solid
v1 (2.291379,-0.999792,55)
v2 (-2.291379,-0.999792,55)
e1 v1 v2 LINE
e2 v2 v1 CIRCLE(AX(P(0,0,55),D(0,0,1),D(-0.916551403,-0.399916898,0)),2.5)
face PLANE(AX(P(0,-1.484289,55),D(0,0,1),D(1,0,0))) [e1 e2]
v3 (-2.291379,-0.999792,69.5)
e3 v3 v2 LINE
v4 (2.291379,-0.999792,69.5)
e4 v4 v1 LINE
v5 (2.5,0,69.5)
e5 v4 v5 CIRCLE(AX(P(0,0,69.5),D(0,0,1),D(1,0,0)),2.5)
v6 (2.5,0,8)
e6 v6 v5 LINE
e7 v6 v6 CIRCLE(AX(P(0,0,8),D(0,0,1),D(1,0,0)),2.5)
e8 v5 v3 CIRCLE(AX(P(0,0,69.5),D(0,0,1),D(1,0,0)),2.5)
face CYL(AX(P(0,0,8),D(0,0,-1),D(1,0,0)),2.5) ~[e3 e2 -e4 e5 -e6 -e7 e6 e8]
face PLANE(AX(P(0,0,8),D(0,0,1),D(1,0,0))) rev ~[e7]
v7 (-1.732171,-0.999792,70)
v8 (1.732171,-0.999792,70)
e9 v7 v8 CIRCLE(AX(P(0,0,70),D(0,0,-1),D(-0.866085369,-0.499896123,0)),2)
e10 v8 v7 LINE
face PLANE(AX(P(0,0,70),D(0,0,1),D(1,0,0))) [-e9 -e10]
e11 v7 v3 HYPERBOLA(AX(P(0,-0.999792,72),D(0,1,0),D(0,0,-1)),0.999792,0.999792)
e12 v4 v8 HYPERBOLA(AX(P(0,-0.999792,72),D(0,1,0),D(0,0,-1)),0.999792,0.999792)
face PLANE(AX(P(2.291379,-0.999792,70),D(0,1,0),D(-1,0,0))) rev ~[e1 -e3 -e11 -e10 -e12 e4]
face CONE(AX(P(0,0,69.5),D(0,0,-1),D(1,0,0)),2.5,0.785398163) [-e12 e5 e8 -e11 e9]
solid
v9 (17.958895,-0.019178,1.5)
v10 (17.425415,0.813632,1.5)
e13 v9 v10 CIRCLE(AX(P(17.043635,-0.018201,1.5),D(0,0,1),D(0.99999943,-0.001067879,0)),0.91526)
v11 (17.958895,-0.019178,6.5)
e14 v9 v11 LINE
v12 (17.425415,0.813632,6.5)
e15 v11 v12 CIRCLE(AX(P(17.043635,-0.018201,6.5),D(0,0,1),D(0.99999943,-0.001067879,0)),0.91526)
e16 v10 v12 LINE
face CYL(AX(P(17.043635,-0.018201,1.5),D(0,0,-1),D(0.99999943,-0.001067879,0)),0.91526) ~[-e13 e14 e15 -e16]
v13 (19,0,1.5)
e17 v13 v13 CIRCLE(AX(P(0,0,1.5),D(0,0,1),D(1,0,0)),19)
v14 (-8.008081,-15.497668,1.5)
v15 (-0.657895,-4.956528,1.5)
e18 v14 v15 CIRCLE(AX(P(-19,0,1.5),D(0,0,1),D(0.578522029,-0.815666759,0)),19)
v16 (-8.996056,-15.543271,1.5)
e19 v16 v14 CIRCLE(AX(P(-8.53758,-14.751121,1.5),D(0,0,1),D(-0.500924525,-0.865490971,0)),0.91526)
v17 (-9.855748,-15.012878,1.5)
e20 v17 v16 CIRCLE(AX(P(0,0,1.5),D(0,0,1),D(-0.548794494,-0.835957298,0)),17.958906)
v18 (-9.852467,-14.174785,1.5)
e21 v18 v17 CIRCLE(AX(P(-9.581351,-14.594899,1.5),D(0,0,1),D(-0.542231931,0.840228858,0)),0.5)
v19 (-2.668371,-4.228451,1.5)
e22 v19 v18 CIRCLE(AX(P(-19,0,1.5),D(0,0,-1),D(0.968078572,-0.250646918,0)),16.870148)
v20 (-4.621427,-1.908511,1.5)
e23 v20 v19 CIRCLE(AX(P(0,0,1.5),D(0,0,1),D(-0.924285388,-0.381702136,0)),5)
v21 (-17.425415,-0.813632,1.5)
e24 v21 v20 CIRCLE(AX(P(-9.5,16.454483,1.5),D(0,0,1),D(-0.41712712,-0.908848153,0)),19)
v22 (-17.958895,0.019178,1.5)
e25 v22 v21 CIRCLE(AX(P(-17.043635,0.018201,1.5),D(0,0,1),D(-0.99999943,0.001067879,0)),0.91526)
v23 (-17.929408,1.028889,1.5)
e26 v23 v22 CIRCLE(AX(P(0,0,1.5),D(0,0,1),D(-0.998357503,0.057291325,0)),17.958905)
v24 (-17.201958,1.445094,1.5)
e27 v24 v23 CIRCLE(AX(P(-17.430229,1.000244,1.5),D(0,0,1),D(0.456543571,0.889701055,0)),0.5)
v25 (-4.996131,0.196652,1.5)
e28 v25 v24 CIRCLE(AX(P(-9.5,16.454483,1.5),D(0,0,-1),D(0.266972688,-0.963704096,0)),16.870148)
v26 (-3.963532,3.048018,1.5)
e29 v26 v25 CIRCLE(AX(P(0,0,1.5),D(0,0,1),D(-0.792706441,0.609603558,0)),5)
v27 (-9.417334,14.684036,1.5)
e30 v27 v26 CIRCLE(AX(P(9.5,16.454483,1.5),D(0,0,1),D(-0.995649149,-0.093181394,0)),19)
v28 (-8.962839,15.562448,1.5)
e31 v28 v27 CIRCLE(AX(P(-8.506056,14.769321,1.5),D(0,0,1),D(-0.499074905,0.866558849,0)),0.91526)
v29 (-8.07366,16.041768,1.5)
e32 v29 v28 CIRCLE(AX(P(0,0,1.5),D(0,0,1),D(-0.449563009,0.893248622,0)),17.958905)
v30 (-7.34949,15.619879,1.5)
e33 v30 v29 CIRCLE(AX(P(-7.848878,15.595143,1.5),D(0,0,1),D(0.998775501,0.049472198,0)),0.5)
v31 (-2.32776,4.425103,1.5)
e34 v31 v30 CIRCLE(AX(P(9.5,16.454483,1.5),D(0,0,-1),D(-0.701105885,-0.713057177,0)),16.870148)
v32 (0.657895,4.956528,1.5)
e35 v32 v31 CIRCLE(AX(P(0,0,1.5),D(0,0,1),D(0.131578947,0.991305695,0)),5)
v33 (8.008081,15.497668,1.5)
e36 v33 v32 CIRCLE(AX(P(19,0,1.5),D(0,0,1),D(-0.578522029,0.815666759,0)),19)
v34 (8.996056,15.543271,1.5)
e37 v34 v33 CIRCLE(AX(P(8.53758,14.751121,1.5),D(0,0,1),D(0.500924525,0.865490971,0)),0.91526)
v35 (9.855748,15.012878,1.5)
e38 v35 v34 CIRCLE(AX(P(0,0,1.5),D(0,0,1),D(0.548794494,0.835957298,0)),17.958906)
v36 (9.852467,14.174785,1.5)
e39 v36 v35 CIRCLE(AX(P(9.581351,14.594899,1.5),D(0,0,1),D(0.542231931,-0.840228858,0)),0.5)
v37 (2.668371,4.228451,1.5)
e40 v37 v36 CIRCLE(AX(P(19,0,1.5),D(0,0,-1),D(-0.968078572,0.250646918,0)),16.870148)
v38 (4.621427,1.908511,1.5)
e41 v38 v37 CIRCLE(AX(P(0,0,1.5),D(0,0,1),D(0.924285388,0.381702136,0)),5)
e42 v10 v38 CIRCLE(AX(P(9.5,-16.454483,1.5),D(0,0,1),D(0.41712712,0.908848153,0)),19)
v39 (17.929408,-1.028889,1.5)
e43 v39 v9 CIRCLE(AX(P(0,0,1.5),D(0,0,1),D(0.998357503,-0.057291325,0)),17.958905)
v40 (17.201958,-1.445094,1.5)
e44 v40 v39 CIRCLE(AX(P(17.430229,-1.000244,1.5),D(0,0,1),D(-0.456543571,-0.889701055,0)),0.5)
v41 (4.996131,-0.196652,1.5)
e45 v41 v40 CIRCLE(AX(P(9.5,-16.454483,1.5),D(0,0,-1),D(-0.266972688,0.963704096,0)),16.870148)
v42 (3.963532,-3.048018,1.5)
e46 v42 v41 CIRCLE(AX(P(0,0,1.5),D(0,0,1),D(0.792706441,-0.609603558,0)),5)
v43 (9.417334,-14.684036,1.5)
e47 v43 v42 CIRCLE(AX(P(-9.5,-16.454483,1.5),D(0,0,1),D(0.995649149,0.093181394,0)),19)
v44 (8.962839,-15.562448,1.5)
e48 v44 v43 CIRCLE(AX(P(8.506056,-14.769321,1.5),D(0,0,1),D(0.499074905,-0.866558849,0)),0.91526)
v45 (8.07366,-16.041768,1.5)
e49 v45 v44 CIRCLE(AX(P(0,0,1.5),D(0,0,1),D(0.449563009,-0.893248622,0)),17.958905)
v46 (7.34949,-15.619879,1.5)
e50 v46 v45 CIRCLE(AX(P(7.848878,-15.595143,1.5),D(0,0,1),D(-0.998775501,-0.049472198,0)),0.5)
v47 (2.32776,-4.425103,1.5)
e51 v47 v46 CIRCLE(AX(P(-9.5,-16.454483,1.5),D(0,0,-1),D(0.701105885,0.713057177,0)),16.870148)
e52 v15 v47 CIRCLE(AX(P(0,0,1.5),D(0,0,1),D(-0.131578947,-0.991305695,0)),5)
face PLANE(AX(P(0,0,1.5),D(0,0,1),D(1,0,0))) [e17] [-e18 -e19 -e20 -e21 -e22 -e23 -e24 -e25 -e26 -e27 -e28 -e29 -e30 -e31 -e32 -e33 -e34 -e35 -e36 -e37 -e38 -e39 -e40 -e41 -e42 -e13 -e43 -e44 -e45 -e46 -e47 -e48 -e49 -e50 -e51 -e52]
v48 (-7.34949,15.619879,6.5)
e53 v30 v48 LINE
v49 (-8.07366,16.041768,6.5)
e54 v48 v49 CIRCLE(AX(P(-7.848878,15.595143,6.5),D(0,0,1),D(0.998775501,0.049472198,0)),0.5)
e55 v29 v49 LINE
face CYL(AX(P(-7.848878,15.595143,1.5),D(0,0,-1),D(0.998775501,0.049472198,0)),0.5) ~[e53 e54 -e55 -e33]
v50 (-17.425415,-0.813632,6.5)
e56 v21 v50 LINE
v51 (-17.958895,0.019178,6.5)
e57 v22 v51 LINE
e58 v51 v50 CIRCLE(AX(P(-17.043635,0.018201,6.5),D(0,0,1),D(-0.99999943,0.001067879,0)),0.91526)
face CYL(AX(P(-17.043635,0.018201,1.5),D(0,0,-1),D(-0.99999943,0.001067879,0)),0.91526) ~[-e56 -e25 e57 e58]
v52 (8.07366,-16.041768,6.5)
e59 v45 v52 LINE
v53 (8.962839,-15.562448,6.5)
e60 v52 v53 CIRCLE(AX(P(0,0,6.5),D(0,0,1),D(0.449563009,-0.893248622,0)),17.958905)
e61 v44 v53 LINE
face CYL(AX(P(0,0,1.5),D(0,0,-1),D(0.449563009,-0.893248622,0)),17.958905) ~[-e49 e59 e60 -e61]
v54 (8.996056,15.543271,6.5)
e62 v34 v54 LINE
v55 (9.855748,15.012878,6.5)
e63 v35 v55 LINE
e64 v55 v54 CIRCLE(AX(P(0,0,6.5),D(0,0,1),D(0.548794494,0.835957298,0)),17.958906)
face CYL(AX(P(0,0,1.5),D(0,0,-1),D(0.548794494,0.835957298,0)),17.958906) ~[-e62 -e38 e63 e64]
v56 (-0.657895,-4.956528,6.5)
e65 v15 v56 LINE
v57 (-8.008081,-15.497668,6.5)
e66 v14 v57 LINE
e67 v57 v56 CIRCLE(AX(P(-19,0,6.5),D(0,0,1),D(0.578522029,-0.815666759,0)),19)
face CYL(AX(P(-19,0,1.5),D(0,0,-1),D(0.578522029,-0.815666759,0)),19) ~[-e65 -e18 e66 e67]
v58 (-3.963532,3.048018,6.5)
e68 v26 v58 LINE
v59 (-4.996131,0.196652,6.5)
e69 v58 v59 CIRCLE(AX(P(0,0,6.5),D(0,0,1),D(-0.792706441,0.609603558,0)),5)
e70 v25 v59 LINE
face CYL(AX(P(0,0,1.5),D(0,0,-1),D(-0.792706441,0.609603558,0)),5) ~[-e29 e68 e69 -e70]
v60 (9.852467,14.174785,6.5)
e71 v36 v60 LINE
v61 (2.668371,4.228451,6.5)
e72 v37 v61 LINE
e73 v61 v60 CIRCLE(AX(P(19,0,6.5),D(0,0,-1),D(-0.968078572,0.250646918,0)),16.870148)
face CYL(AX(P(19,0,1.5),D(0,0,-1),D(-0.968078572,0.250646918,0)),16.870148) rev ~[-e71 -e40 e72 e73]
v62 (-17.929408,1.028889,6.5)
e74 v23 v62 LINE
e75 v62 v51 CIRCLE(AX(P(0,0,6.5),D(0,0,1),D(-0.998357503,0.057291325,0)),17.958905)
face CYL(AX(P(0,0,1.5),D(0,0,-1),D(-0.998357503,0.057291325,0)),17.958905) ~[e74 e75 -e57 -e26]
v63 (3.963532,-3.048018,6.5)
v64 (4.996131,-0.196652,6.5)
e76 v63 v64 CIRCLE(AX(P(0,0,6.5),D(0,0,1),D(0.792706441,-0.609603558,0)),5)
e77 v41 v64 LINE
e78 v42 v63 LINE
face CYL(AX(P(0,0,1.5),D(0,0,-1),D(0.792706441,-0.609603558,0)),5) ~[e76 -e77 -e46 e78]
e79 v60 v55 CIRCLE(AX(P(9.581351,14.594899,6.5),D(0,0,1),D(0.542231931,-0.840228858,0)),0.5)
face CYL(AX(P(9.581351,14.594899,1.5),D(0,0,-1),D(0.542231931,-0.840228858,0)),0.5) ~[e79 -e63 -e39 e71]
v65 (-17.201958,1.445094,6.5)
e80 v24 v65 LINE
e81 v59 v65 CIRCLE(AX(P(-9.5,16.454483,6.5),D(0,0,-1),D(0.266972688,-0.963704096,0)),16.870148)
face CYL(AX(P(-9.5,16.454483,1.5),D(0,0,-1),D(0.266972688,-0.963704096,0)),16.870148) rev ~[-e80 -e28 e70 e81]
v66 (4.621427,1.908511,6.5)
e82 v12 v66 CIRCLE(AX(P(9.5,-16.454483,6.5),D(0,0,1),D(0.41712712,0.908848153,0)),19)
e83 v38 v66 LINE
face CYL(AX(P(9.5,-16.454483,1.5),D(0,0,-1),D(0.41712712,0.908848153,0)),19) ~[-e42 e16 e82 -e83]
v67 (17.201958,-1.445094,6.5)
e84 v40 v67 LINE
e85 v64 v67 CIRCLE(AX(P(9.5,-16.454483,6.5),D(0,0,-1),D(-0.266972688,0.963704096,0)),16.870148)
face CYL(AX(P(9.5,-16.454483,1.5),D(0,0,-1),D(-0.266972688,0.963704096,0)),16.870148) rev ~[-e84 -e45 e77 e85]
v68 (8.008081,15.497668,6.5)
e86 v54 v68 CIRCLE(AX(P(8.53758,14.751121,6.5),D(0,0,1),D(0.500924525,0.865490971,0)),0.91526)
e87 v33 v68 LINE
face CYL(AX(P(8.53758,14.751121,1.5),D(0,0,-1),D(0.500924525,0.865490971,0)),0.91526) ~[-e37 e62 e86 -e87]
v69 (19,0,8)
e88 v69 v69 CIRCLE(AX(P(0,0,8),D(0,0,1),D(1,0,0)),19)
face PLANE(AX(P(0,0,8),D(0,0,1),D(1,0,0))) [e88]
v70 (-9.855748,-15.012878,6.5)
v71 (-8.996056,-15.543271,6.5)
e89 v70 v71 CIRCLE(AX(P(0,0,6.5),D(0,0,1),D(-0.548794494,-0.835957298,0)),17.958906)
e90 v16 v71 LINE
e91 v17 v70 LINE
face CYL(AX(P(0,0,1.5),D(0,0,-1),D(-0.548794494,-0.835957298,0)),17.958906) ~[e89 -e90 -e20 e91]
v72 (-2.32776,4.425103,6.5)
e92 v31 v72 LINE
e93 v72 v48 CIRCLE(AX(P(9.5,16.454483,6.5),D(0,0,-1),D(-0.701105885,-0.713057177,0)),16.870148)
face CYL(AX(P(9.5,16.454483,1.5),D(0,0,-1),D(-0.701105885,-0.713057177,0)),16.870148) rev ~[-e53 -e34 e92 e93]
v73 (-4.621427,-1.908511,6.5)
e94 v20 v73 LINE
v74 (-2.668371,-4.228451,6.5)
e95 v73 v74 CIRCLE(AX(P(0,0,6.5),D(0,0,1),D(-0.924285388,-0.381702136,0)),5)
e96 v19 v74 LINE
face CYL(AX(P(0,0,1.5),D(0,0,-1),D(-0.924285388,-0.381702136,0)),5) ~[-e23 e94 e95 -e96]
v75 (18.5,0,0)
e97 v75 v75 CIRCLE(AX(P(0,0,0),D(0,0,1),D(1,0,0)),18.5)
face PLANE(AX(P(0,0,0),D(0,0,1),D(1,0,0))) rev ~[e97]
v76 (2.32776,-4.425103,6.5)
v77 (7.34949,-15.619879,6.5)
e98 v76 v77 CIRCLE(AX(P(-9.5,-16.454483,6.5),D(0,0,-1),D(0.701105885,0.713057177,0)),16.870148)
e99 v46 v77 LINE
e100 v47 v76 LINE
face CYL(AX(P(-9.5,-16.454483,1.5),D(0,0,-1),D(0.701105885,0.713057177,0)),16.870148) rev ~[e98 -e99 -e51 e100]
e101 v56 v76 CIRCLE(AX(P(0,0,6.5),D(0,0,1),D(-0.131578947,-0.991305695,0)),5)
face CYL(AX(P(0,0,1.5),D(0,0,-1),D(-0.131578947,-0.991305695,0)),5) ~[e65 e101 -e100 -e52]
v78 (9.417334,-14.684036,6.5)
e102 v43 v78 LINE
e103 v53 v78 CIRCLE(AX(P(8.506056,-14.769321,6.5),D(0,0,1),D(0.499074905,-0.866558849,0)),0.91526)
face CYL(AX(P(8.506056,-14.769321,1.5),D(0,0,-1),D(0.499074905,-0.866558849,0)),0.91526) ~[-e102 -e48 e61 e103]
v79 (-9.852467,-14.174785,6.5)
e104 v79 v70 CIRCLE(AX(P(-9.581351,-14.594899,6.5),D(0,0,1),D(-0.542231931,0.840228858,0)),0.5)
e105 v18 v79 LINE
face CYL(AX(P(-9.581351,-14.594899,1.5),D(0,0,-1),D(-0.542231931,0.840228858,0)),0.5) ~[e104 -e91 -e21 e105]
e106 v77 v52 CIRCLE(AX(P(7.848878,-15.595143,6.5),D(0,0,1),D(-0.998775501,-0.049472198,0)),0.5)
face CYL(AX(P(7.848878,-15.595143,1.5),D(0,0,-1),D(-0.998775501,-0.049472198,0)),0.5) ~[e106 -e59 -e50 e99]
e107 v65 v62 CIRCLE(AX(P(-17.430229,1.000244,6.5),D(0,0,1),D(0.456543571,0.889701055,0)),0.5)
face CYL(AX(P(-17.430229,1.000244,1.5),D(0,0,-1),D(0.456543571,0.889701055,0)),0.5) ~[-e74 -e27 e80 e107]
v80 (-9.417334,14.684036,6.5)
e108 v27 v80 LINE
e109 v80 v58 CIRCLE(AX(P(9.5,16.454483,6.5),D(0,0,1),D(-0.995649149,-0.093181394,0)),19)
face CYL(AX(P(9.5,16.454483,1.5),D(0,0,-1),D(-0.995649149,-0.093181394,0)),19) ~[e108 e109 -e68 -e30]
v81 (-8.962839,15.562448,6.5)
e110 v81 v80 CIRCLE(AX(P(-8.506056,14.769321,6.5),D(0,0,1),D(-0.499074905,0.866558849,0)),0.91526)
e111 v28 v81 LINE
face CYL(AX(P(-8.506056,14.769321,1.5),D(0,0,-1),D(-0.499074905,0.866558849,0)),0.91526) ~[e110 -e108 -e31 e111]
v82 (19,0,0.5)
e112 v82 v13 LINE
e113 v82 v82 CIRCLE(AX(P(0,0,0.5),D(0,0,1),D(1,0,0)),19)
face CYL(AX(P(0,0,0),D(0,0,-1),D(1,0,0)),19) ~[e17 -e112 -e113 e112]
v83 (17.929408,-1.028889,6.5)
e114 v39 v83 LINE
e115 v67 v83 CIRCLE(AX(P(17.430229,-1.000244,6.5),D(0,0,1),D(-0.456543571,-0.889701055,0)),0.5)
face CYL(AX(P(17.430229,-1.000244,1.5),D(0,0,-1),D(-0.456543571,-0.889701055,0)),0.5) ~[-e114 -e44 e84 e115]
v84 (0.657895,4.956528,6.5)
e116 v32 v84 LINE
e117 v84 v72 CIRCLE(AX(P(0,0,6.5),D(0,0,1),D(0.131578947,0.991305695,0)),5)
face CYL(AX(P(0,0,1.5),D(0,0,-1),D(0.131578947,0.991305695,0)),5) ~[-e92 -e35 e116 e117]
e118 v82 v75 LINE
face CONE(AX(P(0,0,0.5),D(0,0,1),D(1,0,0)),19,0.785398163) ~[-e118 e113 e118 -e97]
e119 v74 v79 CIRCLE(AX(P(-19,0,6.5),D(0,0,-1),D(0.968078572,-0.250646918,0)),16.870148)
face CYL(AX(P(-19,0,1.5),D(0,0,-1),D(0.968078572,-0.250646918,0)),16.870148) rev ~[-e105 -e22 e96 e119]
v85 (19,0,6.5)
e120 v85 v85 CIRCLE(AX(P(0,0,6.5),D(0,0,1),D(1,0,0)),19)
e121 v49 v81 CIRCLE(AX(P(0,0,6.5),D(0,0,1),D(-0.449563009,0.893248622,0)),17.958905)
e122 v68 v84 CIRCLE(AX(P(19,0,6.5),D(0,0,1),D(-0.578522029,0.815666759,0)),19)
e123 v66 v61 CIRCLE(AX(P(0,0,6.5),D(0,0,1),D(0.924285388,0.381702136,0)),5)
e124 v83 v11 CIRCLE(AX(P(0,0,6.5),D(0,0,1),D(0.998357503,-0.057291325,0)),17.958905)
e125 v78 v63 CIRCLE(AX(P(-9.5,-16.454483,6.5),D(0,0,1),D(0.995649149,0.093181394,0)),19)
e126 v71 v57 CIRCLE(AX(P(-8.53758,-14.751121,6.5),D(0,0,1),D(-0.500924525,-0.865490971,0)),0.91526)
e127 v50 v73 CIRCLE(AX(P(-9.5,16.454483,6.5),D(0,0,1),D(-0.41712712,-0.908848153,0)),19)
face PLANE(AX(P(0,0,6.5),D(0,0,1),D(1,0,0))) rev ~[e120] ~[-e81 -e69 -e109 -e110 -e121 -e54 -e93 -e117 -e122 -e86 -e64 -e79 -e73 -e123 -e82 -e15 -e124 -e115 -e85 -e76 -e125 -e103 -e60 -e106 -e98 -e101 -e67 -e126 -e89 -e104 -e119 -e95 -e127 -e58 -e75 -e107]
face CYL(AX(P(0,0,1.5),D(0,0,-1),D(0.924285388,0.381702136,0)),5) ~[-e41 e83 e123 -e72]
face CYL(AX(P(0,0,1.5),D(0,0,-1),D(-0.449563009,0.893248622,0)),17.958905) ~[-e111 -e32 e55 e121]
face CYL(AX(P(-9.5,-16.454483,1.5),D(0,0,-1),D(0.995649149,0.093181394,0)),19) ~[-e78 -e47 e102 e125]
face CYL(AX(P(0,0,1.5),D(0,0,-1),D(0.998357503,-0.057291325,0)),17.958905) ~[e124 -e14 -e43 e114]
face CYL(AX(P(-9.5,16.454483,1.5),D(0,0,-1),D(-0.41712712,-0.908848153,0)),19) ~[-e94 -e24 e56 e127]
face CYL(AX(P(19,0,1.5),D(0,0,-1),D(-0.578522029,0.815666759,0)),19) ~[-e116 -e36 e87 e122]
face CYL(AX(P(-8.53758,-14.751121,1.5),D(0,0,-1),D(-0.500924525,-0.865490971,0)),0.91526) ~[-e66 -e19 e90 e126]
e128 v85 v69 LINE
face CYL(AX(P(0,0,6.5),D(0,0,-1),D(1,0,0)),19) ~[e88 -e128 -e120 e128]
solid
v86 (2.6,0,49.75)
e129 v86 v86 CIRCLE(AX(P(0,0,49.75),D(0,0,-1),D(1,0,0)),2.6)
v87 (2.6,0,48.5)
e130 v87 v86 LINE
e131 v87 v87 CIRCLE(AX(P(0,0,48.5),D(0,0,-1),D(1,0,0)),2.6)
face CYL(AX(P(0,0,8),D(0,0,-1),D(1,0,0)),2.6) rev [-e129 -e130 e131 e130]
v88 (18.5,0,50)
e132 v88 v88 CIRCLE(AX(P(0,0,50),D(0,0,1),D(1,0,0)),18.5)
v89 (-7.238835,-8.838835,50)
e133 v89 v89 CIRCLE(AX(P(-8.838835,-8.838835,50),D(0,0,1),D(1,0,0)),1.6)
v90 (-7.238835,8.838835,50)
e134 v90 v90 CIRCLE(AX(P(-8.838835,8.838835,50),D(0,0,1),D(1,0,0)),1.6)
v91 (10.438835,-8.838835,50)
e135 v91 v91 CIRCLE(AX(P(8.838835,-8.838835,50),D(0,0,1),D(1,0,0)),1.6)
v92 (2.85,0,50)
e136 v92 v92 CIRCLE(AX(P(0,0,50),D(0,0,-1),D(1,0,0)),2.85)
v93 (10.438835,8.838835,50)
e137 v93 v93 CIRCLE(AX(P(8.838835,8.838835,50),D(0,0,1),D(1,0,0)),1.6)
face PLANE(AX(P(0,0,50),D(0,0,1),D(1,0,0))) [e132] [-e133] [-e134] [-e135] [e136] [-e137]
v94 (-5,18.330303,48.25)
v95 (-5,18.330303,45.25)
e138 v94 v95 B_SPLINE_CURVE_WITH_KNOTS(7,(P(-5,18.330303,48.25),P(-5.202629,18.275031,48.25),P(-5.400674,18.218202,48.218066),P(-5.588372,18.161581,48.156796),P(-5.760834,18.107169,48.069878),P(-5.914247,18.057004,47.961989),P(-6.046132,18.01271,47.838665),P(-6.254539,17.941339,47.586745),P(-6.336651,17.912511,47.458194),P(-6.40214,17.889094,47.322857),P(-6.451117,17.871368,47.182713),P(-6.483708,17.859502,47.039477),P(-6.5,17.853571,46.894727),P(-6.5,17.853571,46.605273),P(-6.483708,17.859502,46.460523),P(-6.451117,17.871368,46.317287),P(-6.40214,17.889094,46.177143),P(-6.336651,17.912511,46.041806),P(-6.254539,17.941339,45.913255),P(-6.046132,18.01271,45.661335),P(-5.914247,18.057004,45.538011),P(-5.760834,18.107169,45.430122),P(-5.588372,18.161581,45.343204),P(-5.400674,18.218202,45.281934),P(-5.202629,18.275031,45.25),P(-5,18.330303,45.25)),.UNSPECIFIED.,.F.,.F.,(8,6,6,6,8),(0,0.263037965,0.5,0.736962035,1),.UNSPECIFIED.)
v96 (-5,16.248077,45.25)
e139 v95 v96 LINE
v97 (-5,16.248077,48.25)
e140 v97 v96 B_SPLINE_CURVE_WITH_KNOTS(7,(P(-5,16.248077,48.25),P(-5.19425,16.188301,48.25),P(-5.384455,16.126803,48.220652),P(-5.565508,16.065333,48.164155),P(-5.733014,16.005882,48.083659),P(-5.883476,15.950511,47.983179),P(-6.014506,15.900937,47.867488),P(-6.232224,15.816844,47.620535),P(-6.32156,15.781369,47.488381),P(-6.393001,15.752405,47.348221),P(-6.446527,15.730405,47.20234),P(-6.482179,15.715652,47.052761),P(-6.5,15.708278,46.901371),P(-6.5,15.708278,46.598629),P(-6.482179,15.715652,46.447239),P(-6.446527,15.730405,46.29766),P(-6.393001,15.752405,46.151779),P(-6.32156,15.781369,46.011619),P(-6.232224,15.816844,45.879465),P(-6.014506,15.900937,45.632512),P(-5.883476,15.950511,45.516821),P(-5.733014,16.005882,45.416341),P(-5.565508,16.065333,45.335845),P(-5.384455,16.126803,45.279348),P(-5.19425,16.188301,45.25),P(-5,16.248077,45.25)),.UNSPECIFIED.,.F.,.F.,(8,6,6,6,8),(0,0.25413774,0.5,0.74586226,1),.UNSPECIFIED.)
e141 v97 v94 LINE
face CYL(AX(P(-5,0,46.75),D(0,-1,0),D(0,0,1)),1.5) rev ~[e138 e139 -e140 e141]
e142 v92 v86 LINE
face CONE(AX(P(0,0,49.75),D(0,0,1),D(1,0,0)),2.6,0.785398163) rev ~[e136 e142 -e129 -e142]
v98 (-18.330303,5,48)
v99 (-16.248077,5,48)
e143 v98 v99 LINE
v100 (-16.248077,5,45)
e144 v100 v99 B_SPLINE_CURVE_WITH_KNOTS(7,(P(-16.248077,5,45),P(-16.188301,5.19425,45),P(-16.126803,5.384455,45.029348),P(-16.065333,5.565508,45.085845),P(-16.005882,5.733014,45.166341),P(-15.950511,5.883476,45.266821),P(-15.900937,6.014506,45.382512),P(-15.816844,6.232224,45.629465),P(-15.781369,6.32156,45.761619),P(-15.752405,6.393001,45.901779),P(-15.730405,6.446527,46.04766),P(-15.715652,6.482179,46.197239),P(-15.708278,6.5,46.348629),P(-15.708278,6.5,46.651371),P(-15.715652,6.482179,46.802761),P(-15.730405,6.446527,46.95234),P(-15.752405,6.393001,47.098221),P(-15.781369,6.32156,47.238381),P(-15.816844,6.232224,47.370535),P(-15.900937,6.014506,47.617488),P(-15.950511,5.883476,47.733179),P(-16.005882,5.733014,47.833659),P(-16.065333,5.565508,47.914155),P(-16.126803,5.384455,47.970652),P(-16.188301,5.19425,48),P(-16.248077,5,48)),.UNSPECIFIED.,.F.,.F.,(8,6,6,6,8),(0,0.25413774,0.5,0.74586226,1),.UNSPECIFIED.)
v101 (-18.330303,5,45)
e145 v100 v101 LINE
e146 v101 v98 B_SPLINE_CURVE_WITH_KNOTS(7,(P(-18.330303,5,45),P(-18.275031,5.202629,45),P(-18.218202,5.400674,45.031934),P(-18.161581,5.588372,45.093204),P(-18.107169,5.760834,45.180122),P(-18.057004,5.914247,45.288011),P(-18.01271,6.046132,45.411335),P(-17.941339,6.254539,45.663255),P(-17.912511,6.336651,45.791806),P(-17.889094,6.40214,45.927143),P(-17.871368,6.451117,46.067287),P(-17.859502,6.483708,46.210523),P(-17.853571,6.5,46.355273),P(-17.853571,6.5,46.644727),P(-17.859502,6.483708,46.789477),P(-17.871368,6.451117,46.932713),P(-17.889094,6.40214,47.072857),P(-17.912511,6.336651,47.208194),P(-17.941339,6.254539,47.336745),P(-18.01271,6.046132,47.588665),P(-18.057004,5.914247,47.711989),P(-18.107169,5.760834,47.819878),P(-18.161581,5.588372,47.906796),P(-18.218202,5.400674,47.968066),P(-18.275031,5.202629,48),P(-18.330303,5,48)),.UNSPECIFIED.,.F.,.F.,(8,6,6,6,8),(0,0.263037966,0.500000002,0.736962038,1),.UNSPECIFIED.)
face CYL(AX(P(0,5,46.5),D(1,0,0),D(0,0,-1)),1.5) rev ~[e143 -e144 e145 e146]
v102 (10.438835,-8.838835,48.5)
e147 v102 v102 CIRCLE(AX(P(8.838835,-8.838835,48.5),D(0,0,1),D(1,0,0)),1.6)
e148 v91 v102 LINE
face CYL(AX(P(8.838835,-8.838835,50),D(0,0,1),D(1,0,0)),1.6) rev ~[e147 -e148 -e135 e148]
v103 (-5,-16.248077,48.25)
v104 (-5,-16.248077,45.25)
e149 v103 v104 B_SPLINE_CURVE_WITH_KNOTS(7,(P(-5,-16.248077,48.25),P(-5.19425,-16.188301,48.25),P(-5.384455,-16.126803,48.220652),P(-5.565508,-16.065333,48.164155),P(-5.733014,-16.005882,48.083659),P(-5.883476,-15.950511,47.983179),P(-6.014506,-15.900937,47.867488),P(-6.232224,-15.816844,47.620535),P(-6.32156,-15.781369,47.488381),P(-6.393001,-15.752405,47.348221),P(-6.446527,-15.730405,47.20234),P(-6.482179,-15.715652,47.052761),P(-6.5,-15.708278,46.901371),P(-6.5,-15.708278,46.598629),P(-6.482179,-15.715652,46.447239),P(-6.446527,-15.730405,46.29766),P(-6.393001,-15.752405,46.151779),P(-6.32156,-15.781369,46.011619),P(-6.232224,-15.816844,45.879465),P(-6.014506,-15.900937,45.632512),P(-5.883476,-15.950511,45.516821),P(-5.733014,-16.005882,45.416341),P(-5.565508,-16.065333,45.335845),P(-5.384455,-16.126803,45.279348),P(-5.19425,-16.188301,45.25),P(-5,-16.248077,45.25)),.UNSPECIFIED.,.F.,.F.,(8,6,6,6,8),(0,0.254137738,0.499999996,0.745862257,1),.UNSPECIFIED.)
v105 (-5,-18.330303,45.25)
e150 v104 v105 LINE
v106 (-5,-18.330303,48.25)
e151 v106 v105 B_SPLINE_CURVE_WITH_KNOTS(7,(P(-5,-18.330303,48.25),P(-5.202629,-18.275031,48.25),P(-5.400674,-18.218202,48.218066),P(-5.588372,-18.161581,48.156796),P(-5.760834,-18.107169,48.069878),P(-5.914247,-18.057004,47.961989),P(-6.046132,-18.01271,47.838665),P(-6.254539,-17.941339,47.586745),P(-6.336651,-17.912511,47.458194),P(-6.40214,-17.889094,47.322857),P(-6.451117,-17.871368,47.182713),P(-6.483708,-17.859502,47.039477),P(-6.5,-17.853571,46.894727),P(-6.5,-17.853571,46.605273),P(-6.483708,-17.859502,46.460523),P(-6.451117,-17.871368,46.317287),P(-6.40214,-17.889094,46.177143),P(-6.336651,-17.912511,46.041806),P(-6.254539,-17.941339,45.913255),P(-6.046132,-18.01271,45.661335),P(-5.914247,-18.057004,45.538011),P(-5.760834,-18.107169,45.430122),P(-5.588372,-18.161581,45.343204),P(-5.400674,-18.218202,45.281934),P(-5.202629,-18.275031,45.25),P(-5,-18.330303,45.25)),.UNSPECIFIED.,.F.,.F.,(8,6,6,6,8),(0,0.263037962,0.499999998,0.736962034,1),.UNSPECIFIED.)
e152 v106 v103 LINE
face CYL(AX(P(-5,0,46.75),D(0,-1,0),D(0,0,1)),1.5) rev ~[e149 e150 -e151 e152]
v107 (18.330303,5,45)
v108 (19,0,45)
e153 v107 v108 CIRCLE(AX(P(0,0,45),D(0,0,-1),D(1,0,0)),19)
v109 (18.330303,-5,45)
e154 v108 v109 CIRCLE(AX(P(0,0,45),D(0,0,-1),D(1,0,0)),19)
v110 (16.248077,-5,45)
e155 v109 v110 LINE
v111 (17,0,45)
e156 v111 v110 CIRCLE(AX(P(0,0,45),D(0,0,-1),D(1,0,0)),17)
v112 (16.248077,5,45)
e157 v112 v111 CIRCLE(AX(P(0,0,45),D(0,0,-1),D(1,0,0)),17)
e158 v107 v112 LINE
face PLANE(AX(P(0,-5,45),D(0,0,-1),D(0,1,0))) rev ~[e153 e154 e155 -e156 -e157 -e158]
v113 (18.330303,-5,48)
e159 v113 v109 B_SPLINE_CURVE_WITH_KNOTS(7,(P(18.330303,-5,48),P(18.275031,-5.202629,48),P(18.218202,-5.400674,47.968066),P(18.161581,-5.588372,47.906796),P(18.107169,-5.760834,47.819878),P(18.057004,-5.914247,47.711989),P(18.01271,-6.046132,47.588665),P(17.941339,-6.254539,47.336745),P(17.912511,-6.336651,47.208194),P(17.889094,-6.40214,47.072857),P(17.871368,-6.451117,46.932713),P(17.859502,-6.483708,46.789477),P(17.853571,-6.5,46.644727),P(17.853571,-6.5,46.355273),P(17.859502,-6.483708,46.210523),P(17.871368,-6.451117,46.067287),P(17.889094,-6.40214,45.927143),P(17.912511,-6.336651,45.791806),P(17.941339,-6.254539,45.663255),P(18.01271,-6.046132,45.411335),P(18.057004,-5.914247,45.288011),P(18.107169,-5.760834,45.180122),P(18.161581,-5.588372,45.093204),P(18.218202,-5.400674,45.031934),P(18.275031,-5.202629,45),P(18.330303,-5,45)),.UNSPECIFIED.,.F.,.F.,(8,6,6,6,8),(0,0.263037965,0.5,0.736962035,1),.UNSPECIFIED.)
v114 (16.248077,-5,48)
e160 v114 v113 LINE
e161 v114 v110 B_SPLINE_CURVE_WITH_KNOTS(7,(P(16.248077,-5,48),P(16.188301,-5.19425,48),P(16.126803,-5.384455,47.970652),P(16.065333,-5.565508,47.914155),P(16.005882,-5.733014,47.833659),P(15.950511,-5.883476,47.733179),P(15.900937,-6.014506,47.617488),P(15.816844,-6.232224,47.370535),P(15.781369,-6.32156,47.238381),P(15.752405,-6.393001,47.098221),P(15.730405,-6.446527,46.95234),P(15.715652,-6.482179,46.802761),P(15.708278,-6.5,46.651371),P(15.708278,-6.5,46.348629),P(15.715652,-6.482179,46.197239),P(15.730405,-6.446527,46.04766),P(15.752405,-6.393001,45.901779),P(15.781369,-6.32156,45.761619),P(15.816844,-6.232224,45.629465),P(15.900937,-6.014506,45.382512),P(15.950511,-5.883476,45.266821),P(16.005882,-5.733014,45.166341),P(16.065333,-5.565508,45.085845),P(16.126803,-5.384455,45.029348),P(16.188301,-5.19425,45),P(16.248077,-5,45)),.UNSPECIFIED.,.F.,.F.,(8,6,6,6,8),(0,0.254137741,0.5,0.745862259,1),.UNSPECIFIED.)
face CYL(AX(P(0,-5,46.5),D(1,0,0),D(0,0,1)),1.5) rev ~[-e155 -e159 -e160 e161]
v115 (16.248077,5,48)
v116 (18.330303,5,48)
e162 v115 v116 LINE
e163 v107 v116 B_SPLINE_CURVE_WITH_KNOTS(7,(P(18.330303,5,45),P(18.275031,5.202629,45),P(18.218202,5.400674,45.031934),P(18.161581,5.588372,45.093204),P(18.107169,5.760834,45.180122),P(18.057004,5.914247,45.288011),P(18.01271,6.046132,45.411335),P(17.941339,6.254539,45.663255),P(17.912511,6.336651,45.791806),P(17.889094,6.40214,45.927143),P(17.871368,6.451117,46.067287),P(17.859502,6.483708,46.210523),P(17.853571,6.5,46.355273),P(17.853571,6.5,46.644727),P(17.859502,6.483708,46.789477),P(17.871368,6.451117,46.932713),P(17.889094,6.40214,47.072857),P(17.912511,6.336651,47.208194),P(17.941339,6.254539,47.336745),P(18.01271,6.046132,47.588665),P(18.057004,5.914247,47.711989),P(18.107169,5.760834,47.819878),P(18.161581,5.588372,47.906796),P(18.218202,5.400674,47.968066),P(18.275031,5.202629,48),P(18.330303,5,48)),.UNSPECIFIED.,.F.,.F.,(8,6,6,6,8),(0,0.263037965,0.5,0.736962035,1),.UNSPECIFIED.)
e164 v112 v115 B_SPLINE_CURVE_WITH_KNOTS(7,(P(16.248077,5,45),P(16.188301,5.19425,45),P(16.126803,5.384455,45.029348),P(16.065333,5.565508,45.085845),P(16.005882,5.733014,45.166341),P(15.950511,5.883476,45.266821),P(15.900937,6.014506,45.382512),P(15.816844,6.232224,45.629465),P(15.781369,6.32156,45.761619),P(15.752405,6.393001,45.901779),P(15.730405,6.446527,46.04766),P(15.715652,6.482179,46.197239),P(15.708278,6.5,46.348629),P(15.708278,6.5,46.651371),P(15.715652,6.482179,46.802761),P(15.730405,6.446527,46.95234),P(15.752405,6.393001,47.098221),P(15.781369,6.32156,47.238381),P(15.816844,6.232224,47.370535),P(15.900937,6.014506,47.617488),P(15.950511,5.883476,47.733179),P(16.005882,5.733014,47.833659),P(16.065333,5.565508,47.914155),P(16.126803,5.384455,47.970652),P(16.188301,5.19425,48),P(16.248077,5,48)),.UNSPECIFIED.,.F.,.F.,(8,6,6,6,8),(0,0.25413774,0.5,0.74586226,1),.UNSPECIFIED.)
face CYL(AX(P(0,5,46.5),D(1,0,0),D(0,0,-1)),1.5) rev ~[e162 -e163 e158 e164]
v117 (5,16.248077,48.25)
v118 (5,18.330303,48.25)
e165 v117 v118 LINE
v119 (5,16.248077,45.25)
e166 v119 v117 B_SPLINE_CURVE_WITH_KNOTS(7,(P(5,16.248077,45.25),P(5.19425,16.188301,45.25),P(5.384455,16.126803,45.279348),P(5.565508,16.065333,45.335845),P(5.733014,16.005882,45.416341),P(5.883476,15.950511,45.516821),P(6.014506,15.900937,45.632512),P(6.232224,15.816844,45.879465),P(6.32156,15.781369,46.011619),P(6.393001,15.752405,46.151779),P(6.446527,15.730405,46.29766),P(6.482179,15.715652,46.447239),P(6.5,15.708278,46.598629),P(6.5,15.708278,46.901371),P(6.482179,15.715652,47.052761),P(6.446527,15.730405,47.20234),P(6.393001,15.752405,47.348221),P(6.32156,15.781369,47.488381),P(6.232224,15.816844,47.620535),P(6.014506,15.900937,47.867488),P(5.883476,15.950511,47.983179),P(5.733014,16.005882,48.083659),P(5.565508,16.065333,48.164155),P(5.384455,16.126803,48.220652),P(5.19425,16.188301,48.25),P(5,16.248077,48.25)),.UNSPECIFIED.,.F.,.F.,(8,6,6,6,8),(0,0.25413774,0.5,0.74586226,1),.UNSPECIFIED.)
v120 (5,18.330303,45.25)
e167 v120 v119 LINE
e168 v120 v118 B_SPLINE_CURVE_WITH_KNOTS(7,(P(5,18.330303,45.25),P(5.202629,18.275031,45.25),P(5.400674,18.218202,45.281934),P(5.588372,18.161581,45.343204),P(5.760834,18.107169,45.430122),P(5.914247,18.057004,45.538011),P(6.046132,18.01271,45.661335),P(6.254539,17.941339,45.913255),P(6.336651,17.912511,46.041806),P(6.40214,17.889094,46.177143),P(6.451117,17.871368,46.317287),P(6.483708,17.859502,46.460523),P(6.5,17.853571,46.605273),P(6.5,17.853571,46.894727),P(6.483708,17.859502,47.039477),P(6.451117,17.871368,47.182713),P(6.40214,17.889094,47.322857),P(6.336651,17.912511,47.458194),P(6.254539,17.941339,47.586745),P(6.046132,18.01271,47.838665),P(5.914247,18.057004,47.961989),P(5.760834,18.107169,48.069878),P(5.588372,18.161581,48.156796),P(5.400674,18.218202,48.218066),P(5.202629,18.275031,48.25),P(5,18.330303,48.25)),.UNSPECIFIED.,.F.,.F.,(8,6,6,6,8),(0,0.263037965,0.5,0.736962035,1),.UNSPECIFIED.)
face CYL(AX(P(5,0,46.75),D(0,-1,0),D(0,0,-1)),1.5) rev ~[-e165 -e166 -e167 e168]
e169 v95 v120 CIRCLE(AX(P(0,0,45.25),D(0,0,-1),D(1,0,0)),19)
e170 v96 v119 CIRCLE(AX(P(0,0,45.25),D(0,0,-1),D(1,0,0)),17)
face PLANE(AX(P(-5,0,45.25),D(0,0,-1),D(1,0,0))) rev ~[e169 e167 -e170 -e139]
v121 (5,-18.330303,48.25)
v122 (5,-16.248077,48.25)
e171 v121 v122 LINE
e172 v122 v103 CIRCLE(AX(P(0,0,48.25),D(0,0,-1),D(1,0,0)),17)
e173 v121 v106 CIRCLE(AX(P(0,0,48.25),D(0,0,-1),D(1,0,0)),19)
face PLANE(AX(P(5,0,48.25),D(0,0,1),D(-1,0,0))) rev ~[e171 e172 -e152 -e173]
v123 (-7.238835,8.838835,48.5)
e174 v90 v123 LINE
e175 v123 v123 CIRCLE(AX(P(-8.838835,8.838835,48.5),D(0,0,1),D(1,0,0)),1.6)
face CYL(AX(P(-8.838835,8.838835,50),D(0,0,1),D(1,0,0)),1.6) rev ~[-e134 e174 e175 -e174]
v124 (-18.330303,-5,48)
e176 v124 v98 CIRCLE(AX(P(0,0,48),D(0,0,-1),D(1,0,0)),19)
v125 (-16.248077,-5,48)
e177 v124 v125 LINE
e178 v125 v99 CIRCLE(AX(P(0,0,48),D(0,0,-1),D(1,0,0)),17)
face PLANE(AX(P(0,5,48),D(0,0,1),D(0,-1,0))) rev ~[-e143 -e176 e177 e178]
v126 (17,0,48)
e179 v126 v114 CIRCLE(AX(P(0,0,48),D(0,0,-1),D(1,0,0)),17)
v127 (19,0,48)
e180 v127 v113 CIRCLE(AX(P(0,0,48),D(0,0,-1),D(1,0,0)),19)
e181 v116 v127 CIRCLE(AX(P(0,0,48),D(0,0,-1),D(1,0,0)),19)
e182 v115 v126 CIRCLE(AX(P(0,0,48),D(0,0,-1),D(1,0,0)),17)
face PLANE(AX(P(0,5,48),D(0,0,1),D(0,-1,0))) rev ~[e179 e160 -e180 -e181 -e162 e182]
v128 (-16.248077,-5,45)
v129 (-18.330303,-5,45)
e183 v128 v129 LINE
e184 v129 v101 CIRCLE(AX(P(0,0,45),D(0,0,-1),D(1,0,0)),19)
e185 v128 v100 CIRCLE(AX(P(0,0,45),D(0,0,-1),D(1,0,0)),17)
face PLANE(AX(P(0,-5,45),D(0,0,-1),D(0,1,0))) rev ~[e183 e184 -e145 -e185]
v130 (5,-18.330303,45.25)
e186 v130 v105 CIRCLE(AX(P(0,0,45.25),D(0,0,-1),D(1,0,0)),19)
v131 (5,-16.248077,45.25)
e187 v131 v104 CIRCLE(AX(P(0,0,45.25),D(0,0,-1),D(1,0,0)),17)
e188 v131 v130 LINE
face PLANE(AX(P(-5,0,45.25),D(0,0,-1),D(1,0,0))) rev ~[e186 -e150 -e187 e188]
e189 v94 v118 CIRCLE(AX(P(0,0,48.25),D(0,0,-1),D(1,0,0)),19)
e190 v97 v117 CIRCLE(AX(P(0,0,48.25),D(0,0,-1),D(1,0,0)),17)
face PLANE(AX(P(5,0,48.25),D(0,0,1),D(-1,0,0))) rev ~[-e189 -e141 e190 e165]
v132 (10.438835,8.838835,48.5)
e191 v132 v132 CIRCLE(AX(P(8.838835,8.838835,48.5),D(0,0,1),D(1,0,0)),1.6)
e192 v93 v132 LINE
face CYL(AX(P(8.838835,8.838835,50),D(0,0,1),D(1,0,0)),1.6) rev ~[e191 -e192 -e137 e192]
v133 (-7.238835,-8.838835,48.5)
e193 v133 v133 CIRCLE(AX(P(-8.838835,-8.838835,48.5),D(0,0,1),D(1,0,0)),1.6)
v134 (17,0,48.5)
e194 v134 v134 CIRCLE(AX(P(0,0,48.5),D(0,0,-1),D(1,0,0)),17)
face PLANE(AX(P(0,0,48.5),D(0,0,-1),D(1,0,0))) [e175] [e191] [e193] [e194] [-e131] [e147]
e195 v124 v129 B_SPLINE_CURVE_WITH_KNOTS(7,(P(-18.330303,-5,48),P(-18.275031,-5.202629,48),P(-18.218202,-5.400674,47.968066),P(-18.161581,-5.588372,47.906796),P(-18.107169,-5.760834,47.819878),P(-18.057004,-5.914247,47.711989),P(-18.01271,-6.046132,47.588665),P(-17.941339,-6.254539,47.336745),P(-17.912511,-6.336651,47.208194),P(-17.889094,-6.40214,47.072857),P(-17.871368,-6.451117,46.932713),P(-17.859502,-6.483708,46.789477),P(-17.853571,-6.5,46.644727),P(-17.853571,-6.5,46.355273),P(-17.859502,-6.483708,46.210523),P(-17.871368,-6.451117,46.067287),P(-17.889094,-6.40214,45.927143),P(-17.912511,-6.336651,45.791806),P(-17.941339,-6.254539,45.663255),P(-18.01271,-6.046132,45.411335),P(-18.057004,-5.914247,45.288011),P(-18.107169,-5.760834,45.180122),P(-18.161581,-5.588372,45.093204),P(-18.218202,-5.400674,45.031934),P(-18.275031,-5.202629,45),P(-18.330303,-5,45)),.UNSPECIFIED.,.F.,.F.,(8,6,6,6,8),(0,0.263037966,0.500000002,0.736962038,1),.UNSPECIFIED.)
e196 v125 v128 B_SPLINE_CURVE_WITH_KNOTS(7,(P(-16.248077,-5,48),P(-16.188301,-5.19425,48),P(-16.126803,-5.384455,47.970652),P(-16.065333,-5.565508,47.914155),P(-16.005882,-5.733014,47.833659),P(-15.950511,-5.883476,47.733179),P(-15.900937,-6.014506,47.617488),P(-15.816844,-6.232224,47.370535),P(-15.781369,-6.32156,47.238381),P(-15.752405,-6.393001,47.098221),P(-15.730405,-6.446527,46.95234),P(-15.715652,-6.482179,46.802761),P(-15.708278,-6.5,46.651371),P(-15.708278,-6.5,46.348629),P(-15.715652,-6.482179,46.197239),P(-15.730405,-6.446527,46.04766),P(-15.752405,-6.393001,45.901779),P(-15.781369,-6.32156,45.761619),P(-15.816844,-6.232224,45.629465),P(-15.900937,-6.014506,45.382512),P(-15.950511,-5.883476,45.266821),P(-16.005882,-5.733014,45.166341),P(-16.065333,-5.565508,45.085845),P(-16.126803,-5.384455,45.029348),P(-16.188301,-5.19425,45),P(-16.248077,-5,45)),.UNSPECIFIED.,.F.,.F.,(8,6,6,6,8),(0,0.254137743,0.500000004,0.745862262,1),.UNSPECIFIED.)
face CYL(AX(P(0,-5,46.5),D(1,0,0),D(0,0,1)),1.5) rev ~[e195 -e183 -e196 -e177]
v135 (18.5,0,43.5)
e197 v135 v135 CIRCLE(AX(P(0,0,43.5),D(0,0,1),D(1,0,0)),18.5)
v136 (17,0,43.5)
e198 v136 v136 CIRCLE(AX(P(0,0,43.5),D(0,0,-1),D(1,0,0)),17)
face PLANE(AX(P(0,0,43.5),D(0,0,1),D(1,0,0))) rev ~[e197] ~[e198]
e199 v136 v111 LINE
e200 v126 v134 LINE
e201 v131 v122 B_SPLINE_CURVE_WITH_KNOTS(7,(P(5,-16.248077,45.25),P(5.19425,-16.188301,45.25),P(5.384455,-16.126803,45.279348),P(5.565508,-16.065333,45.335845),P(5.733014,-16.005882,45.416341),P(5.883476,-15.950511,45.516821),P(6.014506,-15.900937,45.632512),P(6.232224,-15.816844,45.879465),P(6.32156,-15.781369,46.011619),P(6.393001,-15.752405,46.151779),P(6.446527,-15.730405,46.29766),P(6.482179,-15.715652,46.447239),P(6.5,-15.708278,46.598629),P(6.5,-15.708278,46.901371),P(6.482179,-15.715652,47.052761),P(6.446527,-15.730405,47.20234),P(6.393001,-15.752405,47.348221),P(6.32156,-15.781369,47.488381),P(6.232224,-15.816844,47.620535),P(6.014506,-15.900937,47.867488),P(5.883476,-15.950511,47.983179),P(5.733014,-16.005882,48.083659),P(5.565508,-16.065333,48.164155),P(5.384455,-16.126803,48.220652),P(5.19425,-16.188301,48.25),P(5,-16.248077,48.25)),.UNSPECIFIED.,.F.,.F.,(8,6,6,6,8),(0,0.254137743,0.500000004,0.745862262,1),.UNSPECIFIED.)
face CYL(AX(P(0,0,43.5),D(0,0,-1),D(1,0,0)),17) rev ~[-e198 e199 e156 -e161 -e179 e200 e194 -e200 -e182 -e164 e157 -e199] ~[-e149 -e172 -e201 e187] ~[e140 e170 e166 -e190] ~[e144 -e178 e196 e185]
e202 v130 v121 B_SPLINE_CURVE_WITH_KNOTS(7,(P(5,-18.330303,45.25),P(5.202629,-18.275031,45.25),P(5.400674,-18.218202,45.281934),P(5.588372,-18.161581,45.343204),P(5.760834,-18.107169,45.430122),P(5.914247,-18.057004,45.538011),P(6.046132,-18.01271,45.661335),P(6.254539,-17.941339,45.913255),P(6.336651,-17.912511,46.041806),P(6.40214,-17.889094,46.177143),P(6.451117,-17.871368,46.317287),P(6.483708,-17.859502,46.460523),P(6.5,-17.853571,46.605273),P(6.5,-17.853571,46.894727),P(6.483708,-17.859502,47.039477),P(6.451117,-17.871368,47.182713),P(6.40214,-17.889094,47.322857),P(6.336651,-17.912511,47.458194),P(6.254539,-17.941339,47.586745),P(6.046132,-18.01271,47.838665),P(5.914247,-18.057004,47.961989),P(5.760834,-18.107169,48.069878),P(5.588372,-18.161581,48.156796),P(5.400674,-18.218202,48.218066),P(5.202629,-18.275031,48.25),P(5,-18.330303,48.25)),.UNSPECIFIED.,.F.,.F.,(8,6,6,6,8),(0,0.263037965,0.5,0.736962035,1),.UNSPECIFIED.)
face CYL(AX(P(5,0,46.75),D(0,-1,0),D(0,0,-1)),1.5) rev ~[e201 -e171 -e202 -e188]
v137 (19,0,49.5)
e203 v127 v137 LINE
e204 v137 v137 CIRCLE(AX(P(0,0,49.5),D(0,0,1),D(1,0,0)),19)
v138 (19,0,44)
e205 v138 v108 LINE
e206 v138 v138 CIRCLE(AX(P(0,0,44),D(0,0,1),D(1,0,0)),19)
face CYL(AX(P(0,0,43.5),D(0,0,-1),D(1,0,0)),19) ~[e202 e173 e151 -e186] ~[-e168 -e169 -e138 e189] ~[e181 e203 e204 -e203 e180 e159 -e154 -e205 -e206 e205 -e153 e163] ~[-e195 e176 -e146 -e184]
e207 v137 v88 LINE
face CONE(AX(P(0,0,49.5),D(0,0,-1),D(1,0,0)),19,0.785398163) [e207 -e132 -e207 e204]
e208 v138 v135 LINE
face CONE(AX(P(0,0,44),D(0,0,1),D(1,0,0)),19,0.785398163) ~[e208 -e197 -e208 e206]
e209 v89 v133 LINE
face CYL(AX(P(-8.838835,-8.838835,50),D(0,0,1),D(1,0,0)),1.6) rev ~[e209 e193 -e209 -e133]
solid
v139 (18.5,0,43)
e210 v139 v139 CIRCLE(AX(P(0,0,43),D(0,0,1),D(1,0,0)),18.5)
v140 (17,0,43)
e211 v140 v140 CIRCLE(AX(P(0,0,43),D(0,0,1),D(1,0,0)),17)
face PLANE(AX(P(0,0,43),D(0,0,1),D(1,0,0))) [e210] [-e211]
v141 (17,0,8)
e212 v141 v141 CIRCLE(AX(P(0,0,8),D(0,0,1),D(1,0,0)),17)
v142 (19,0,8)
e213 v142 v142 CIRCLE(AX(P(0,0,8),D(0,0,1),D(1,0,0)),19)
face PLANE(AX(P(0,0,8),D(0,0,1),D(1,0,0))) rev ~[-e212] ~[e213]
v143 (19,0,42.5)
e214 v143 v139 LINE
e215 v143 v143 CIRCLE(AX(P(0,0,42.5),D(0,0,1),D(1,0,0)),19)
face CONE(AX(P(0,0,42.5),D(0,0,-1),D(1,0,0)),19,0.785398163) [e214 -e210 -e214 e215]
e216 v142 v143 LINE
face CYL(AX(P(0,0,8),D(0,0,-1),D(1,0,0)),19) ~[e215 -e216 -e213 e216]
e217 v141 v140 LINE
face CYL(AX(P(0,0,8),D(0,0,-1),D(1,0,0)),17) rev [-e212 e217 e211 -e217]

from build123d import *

# Parameters (mm, degrees)
F0_R       = 19
F1_DEPTH   = 1.5
F3_DEPTH   = 5
F4_R       = 19
F5_DEPTH   = 1.5
F6_SIZE    = 0.5
F7_R       = 19
F7_R_2     = 17
F8_DEPTH   = 35
F10_R      = 19
F11_DEPTH  = 6.5
F12_SIZE   = 0.5
F12_2_SIZE = 0.5
F14_DEPTH  = 37.5
F16_DEPTH  = 37.5
F17_R      = 17
F18_DEPTH  = 5
F19_R      = 2.6
F20_DEPTH  = 45
F21_SIZE   = 0.25
F22_R      = 2.5
F23_DEPTH  = 62
F25_SIZE   = 0.5
F26_DEPTH  = 15
F27_DEPTH  = 15
F28_R      = 1.6
F29_DEPTH  = 4


with BuildPart() as f1:
    # F0 (on Top) → F1 (new body)
    with BuildSketch(Plane.XY):
        Circle(F0_R)
    extrude(amount=F1_DEPTH)

    # F2 (on face) → F3 (join)
    with BuildSketch(Plane.XY.offset(1.5)):
        with BuildLine():
            ThreePointArc((8.0080814524, 15.497668426), (3.4147458762, 10.8673756674), (0.6578947368, 4.9565284742))
            ThreePointArc((0.6578947368, 4.9565284742), (-0.8761939126, 4.9226298081), (-2.3277599171, 4.4251026845))
            ThreePointArc((-2.3277599171, 4.4251026845), (-5.8924308346, 9.5497769911), (-7.3494903452, 15.6198793858))
            ThreePointArc((-7.3494903452, 15.6198793858), (-7.5971847039, 16.0271738837), (-8.0736596003, 16.041767598))
            ThreePointArc((-8.0736596003, 16.041767598), (-8.5216200512, 15.8083610382), (-8.9628390535, 15.5624484935))
            ThreePointArc((-8.9628390535, 15.5624484935), (-9.3189517912, 15.189917895), (-9.4173338302, 14.6840361864))
            ThreePointArc((-9.4173338302, 14.6840361864), (-7.7040504623, 8.39094451), (-3.9635322048, 3.0480177922))
            ThreePointArc((-3.9635322048, 3.0480177922), (-4.7012194235, 1.7025087171), (-4.9961312977, 0.1966521202))
            ThreePointArc((-4.9961312977, 0.1966521202), (-11.2165648921, -0.3281062973), (-17.2019575247, 1.4450943491))
            ThreePointArc((-17.2019575247, 1.4450943491), (-17.6785320861, 1.4342319911), (-17.9294080616, 1.0288894837))
            ThreePointArc((-17.9294080616, 1.0288894837), (-17.9512522769, 0.5242410734), (-17.9588952672, 0.0191779364))
            ThreePointArc((-17.9588952672, 0.0191779364), (-17.814330674, -0.4754900403), (-17.4254152826, -0.8136322397))
            ThreePointArc((-17.4254152826, -0.8136322397), (-11.1187963385, -2.4764311574), (-4.6214269416, -1.908510682))
            ThreePointArc((-4.6214269416, -1.908510682), (-3.8250255109, -3.220121091), (-2.6683713806, -4.2284505643))
            ThreePointArc((-2.6683713806, -4.2284505643), (-5.3241340575, -9.8778832884), (-9.8524671796, -14.1747850367))
            ThreePointArc((-9.8524671796, -14.1747850367), (-10.0813473822, -14.5929418927), (-9.8557484614, -15.0128781144))
            ThreePointArc((-9.8557484614, -15.0128781144), (-9.4296322257, -15.2841199648), (-8.9960562137, -15.5432705571))
            ThreePointArc((-8.9960562137, -15.5432705571), (-8.4953788829, -15.6654079353), (-8.0080814524, -15.497668426))
            ThreePointArc((-8.0080814524, -15.497668426), (-3.4147458762, -10.8673756674), (-0.6578947368, -4.9565284742))
            ThreePointArc((-0.6578947368, -4.9565284742), (0.8761939126, -4.9226298081), (2.3277599171, -4.4251026845))
            ThreePointArc((2.3277599171, -4.4251026845), (5.8924308346, -9.5497769911), (7.3494903452, -15.6198793858))
            ThreePointArc((7.3494903452, -15.6198793858), (7.5971847039, -16.0271738837), (8.0736596003, -16.041767598))
            ThreePointArc((8.0736596003, -16.041767598), (8.5216200512, -15.8083610382), (8.9628390535, -15.5624484935))
            ThreePointArc((8.9628390535, -15.5624484935), (9.3189517912, -15.189917895), (9.4173338302, -14.6840361864))
            ThreePointArc((9.4173338302, -14.6840361864), (7.7040504623, -8.39094451), (3.9635322048, -3.0480177922))
            ThreePointArc((3.9635322048, -3.0480177922), (4.7012194235, -1.7025087171), (4.9961312977, -0.1966521202))
            ThreePointArc((4.9961312977, -0.1966521202), (11.2165648921, 0.3281062973), (17.2019575247, -1.4450943491))
            ThreePointArc((17.2019575247, -1.4450943491), (17.6785320861, -1.4342319911), (17.9294080616, -1.0288894837))
            ThreePointArc((17.9294080616, -1.0288894837), (17.9512522769, -0.5242410734), (17.9588952672, -0.0191779364))
            ThreePointArc((17.9588952672, -0.0191779364), (17.814330674, 0.4754900403), (17.4254152826, 0.8136322397))
            ThreePointArc((17.4254152826, 0.8136322397), (11.1187963385, 2.4764311574), (4.6214269416, 1.908510682))
            ThreePointArc((4.6214269416, 1.908510682), (3.8250255109, 3.220121091), (2.6683713806, 4.2284505643))
            ThreePointArc((2.6683713806, 4.2284505643), (5.3241340575, 9.8778832884), (9.8524671796, 14.1747850367))
            ThreePointArc((9.8524671796, 14.1747850367), (10.0813473822, 14.5929418927), (9.8557484614, 15.0128781144))
            ThreePointArc((9.8557484614, 15.0128781144), (9.4296322257, 15.2841199648), (8.9960562137, 15.5432705571))
            ThreePointArc((8.9960562137, 15.5432705571), (8.4953788829, 15.6654079353), (8.0080814524, 15.497668426))
        make_face()
    extrude(amount=F3_DEPTH)

    # F4 (on face) → F5 (join)
    with BuildSketch(Plane.XY.offset(6.5)):
        Circle(F4_R)
    extrude(amount=F5_DEPTH)

    # F6
    f6_edges = [f1.edges().sort_by_distance(p)[0] for p in [
        (-19, 0, 0),
    ]]
    chamfer(f6_edges, length=F6_SIZE)

    # F24 (on face) → F27 (cut)
    with BuildSketch(Plane.XY.offset(70)):
        with BuildLine():
            Line((2.2913785075, -0.9997922461), (-2.2913785075, -0.9997922461))
            ThreePointArc((-2.2913785075, -0.9997922461), (0, -2.5), (2.2913785075, -0.9997922461))
        make_face()
    extrude(amount=-F27_DEPTH, mode=Mode.SUBTRACT)


with BuildPart() as f8:
    # F7 (on face) → F8 (new body)
    with BuildSketch(Plane.XY.offset(8)):
        Circle(F7_R)
        Circle(F7_R_2, mode=Mode.SUBTRACT)
    extrude(amount=F8_DEPTH)

    # F12
    f12_edges = [f8.edges().sort_by_distance(p)[0] for p in [
        (-19, 0, 43),
    ]]
    chamfer(f12_edges, length=F12_SIZE)


with BuildPart() as f11:
    # F10 (on offset) → F11 (new body)
    with BuildSketch(Plane.XY.offset(43.5)):
        Circle(F10_R)
    extrude(amount=F11_DEPTH)

    # F12#2
    f12_2_edges = [f11.edges().sort_by_distance(p)[0] for p in [
        (-19, 0, 43.5),
        (-19, 0, 50),
    ]]
    chamfer(f12_2_edges, length=F12_2_SIZE)

    # F13 (on Front) → F14 (cut, symmetric)
    with BuildSketch(Plane.XZ):
        with BuildLine():
            ThreePointArc((-5, 48.25), (-6.5, 46.75), (-5, 45.25))
            Line((-5, 45.25), (5, 45.25))
            ThreePointArc((5, 45.25), (6.5, 46.75), (5, 48.25))
            Line((5, 48.25), (-5, 48.25))
        make_face()
    extrude(amount=F14_DEPTH, both=True, mode=Mode.SUBTRACT)

    # F15 (on Right) → F16 (cut, symmetric)
    with BuildSketch(Plane.YZ):
        with BuildLine():
            ThreePointArc((5, 45), (6.5, 46.5), (5, 48))
            Line((5, 48), (-5, 48))
            ThreePointArc((-5, 48), (-6.5, 46.5), (-5, 45))
            Line((-5, 45), (5, 45))
        make_face()
    extrude(amount=F16_DEPTH, both=True, mode=Mode.SUBTRACT)

    # F17 (on face) → F18 (cut)
    with BuildSketch(Plane(origin=(0, 0, 43.5), x_dir=(1, 0, 0), z_dir=(0, 0, -1))):
        Circle(F17_R)
    extrude(amount=-F18_DEPTH, mode=Mode.SUBTRACT)

    # F19 (on face) → F20 (cut)
    with BuildSketch(Plane.XY.offset(8)):
        Circle(F19_R)
    extrude(amount=F20_DEPTH, mode=Mode.SUBTRACT)

    # F21
    f21_edges = [f11.edges().sort_by_distance(p)[0] for p in [
        (-2.6, 0, 50),
    ]]
    chamfer(f21_edges, length=F21_SIZE)

    # F28 (on face) → F29 (cut)
    with BuildSketch(Plane.XY.offset(50)):
        with Locations((-8.8388347648, 8.8388347648)):
            Circle(F28_R)
        with Locations((-8.8388347648, -8.8388347648)):
            Circle(F28_R)
        with Locations((8.8388347648, -8.8388347648)):
            Circle(F28_R)
        with Locations((8.8388347648, 8.8388347648)):
            Circle(F28_R)
    extrude(amount=-F29_DEPTH, mode=Mode.SUBTRACT)


with BuildPart() as f23:
    # F22 (on face) → F23 (new body)
    with BuildSketch(Plane.XY.offset(8)):
        Circle(F22_R)
    extrude(amount=F23_DEPTH)

    # F25
    f25_edges = [f23.edges().sort_by_distance(p)[0] for p in [
        (-2.5, 0, 70),
    ]]
    chamfer(f25_edges, length=F25_SIZE)

    # F24 (on face) → F26 (cut)
    with BuildSketch(Plane.XY.offset(70)):
        with BuildLine():
            Line((2.2913785075, -0.9997922461), (-2.2913785075, -0.9997922461))
            ThreePointArc((-2.2913785075, -0.9997922461), (0, -2.5), (2.2913785075, -0.9997922461))
        make_face()
    extrude(amount=-F26_DEPTH, mode=Mode.SUBTRACT)


solid = Compound([f1.part, f8.part, f11.part, f23.part])
